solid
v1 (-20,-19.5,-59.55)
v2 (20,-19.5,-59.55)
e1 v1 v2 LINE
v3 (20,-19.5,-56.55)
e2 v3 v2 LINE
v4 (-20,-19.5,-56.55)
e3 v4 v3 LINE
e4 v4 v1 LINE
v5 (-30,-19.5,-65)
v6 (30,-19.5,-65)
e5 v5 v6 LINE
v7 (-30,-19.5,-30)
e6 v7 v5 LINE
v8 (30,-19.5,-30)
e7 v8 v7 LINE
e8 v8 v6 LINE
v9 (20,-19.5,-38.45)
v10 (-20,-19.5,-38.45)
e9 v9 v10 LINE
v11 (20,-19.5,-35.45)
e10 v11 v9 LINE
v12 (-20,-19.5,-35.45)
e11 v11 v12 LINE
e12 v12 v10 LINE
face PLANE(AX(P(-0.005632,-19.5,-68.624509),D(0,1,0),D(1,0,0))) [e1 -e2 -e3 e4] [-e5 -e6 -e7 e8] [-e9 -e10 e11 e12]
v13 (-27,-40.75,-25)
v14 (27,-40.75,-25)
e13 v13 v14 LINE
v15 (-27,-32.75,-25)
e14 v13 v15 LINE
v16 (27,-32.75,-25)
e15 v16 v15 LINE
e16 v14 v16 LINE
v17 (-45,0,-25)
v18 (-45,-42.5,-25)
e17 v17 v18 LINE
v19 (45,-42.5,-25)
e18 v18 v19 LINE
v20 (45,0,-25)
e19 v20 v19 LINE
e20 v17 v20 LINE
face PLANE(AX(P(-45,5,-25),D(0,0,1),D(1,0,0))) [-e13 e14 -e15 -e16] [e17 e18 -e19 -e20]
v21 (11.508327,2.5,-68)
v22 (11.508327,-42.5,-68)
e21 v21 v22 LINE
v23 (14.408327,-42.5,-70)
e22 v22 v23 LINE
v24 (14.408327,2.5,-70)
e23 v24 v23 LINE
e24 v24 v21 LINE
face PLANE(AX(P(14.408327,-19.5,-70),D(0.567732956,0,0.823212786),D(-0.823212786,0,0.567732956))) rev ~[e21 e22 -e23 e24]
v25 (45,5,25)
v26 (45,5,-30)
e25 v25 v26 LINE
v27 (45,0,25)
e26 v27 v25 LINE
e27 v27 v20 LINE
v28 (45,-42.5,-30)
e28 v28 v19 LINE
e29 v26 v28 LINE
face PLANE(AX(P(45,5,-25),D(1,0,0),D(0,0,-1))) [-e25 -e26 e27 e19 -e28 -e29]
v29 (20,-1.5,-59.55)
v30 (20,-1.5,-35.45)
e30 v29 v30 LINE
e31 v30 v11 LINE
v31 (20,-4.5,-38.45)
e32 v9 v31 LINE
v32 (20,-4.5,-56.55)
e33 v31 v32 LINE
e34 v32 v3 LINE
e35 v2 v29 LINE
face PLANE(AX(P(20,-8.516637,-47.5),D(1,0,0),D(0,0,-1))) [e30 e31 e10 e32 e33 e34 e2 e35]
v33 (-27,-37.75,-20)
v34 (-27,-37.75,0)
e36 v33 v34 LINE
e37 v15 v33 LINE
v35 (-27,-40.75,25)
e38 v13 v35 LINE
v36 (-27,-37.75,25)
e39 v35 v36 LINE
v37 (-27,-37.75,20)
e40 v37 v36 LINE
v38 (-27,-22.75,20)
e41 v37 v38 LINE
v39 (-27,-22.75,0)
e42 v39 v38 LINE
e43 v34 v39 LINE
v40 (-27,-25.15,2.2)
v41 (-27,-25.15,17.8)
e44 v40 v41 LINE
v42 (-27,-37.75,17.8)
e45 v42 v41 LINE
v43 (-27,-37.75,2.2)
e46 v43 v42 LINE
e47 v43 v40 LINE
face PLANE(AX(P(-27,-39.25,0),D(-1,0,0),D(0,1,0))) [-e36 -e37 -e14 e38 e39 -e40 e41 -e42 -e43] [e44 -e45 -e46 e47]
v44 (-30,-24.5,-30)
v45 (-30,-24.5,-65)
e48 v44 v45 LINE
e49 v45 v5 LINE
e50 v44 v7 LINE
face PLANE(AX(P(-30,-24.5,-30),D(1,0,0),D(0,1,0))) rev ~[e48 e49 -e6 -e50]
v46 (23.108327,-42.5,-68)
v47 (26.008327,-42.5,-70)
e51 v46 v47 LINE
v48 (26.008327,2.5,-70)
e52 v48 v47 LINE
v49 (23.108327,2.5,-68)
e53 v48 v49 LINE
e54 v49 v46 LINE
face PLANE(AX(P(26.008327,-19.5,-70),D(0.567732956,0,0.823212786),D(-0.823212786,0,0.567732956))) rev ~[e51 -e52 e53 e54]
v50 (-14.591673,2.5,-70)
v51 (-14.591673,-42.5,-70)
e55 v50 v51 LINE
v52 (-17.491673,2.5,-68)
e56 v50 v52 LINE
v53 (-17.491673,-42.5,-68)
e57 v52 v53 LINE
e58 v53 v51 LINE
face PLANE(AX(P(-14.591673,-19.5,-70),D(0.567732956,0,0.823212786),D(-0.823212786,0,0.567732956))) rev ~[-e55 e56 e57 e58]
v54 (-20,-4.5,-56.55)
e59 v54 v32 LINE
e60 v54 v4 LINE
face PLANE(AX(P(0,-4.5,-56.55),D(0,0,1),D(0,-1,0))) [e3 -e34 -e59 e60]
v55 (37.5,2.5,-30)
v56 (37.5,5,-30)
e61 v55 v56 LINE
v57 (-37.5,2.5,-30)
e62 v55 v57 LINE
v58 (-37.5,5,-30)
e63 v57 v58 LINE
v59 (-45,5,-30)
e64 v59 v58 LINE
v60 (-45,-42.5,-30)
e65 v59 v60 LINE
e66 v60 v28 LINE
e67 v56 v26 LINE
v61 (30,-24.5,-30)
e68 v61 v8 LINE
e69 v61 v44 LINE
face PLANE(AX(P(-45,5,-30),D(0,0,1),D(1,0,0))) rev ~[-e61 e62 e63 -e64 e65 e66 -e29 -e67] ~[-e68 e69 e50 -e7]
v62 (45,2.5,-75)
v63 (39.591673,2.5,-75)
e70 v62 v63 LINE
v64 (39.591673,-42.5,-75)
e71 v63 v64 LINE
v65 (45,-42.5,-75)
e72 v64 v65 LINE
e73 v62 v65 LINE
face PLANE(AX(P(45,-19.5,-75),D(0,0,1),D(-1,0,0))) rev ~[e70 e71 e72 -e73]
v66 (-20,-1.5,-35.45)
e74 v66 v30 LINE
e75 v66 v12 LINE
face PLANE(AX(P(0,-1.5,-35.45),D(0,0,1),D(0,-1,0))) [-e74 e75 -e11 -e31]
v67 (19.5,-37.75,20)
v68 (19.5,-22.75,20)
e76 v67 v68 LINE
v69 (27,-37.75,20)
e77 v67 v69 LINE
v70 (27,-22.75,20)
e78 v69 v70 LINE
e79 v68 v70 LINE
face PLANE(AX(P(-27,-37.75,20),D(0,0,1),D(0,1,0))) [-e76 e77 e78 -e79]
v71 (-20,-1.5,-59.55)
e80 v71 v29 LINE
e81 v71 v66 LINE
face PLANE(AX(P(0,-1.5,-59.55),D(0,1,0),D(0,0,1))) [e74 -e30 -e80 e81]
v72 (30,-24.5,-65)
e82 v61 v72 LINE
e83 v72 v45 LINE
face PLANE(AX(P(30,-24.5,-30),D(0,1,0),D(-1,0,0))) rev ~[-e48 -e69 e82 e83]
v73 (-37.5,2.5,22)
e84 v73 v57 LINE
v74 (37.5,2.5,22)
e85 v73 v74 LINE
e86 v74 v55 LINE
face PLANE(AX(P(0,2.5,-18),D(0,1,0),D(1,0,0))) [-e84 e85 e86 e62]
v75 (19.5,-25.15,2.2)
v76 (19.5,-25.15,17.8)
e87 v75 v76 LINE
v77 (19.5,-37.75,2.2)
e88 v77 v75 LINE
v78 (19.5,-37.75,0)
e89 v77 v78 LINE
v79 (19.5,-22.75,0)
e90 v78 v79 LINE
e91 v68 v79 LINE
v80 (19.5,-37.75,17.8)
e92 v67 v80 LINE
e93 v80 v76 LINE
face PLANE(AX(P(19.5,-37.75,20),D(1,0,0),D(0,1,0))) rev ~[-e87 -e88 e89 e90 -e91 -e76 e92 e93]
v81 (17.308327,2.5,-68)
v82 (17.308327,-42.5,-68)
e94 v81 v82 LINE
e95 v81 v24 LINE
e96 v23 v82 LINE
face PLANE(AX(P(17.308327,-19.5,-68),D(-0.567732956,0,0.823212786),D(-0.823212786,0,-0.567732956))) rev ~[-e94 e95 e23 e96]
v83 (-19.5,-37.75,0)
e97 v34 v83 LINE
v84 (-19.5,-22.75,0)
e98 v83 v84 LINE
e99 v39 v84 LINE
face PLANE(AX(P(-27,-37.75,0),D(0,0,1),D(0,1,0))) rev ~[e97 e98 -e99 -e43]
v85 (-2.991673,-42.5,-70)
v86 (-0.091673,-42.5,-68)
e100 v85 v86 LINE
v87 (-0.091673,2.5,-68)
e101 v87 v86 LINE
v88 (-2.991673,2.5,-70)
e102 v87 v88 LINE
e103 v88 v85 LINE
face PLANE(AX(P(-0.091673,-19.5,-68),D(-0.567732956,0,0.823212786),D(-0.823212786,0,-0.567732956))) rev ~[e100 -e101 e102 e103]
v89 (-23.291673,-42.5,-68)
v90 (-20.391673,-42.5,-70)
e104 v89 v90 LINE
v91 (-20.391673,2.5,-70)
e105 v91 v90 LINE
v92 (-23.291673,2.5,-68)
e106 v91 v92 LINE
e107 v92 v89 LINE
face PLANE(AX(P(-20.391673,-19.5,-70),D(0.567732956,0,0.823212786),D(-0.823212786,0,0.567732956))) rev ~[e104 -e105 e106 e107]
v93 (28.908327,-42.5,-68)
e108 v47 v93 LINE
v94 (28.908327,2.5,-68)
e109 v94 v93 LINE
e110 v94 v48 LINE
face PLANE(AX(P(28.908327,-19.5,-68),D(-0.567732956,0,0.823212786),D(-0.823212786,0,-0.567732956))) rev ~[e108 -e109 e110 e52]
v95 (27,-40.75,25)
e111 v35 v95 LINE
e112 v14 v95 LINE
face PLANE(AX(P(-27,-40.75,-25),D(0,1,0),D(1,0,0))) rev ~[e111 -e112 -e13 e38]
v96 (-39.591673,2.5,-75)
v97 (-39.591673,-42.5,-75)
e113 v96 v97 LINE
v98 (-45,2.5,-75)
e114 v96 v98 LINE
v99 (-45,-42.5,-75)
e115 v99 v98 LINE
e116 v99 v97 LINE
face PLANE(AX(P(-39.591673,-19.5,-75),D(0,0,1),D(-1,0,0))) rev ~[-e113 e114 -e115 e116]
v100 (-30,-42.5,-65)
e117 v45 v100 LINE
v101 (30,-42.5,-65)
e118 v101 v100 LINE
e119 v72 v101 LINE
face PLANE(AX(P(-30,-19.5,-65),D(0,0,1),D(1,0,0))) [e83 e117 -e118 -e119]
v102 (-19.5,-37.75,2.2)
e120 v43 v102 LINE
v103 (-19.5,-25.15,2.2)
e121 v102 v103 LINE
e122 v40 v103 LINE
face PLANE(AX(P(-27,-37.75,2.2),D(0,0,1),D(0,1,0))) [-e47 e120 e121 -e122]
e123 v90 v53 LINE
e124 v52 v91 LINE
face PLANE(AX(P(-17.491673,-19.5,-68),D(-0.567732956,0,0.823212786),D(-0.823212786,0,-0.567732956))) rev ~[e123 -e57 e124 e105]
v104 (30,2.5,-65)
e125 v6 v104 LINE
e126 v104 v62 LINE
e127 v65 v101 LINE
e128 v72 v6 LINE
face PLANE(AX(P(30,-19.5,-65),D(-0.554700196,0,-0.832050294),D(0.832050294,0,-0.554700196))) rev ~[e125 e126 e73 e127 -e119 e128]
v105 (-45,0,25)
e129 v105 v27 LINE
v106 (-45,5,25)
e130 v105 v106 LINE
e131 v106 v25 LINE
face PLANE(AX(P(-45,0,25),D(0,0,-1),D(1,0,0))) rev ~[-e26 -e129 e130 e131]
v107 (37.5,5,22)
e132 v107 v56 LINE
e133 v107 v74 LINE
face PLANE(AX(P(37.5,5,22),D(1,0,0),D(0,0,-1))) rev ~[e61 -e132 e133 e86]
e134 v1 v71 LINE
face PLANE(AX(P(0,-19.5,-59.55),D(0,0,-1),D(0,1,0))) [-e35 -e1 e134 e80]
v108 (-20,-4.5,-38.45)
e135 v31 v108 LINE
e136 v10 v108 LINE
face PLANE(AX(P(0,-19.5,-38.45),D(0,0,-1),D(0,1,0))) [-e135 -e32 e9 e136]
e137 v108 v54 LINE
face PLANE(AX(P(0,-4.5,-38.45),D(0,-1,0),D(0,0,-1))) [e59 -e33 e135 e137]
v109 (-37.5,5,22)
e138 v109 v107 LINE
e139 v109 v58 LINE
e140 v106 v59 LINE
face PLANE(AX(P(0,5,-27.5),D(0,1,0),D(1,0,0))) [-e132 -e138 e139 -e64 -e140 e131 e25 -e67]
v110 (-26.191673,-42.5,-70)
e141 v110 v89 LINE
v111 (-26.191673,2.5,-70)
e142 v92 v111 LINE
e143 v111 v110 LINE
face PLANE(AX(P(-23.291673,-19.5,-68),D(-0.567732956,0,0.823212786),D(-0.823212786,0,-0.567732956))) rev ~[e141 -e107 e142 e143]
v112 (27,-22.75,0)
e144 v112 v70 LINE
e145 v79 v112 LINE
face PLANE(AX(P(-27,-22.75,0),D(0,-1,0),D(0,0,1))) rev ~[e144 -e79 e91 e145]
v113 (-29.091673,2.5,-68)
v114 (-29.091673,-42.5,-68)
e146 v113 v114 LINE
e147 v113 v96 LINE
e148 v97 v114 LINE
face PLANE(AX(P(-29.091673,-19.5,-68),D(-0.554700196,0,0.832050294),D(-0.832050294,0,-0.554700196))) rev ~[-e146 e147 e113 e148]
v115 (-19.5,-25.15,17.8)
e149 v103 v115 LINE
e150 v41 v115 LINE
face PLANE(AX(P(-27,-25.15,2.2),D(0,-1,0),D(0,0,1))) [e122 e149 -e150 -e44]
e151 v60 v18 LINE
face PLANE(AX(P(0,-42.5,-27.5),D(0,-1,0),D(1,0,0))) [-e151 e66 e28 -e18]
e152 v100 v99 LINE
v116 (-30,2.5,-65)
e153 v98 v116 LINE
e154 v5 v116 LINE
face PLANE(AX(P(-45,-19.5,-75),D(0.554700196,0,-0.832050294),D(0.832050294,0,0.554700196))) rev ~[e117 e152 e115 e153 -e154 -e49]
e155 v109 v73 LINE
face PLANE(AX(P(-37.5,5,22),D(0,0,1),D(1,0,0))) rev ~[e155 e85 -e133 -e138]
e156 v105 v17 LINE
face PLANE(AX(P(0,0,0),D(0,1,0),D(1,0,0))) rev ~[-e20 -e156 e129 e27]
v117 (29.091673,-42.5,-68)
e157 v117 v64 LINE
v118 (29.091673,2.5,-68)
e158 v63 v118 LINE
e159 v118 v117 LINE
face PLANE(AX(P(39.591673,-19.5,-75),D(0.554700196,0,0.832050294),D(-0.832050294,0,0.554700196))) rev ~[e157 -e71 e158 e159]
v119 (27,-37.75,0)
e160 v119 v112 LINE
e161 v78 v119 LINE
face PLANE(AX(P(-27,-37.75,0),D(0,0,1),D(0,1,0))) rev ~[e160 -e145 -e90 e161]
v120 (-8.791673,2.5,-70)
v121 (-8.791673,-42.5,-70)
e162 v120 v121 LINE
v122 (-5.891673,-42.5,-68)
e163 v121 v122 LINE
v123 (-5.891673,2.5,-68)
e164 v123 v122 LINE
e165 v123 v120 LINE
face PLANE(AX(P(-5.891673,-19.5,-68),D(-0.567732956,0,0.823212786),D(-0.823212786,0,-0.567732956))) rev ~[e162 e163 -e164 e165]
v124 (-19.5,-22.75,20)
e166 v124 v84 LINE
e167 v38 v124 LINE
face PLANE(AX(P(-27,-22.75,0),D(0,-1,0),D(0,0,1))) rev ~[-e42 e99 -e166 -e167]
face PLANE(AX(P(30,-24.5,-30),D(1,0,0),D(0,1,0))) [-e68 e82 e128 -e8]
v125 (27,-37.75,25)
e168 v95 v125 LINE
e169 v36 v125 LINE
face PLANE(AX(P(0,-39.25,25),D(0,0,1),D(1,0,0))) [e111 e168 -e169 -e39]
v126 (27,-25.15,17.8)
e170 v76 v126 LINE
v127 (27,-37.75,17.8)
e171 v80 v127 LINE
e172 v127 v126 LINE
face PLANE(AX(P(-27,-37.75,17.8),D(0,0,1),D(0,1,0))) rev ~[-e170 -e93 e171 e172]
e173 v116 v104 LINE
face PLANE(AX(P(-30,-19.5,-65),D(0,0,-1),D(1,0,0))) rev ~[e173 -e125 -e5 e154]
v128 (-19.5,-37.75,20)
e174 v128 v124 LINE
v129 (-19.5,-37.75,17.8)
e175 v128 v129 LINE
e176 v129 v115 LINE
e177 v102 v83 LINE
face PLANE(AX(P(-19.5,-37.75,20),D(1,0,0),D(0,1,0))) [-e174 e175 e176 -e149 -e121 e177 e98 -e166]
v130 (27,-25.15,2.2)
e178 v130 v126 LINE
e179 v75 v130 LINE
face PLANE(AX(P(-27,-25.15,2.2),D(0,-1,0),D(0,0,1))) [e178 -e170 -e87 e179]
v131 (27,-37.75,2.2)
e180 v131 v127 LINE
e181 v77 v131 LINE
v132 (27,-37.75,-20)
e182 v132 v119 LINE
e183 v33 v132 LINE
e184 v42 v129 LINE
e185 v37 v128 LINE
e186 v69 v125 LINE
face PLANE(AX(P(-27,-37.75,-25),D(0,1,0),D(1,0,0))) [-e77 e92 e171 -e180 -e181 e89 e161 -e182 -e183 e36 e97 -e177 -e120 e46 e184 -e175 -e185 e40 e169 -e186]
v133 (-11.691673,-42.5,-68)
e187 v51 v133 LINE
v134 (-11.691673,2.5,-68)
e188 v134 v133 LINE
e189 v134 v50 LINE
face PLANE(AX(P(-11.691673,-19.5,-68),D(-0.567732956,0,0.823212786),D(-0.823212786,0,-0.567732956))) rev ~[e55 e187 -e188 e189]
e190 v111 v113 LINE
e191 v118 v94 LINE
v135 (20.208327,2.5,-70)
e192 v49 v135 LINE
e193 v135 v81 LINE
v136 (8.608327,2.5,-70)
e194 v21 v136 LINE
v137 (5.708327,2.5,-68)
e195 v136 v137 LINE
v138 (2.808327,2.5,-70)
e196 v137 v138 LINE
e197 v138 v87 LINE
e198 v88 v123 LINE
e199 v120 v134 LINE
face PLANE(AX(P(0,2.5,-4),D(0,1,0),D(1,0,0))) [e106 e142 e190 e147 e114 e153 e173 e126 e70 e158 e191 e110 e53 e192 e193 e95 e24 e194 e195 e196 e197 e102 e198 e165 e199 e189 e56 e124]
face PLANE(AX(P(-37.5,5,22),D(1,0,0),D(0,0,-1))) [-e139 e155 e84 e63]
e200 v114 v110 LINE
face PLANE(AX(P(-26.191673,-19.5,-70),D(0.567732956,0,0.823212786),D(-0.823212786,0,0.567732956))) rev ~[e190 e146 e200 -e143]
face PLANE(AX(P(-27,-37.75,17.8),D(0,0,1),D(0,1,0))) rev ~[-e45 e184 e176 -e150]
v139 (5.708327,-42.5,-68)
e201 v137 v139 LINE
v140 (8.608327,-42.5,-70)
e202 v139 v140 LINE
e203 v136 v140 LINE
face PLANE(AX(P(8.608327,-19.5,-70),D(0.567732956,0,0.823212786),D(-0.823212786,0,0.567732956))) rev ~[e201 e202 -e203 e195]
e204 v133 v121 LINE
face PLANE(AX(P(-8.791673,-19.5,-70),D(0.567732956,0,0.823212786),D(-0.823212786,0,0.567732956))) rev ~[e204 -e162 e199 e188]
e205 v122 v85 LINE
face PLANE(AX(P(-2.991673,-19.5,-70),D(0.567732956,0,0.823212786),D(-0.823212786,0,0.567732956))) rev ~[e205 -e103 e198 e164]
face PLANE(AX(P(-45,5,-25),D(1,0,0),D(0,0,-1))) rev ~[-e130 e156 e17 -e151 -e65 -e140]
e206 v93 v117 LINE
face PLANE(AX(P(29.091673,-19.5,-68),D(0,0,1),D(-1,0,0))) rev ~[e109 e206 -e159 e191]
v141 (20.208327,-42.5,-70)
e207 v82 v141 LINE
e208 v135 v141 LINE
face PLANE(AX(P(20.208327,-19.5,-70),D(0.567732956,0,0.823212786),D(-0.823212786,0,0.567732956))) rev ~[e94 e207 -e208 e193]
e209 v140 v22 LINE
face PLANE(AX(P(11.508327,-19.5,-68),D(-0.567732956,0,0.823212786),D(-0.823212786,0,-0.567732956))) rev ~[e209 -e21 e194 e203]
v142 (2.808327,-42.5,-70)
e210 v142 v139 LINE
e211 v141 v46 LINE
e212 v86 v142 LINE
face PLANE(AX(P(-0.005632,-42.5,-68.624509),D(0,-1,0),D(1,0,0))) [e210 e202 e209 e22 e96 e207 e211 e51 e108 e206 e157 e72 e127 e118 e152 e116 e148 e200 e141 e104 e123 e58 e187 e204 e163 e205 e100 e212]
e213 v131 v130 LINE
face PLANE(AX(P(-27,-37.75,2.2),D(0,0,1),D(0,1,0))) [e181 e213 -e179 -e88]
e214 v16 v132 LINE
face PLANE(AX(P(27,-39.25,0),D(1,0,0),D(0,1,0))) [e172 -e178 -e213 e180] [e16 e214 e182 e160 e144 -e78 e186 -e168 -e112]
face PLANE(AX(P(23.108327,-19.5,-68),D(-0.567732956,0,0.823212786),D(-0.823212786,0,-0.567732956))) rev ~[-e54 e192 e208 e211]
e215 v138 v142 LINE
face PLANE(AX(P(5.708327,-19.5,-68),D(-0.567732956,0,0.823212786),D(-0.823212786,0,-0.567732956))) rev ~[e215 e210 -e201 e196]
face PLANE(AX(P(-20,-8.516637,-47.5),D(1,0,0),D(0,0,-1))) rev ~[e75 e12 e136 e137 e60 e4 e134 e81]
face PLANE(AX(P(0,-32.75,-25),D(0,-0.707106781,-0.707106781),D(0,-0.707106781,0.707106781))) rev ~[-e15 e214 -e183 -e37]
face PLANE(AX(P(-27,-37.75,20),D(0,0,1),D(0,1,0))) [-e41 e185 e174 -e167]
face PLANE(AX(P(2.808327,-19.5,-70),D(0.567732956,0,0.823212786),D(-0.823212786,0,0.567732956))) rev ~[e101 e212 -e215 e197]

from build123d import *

# Parameters (mm, degrees)
CROQUIS1_W                          = 90
CROQUIS1_H                          = 50
SALIENTE_EXTRUIR1_DEPTH             = 5
CROQUIS4_W                          = 90
CROQUIS4_H                          = 5
SALIENTE_EXTRUIR2_DEPTH             = 49.5
CROQUIS5_W                          = 60
CROQUIS5_H                          = 5
SALIENTE_EXTRUIR3_DEPTH             = 35
CROQUIS11_W                         = 75
CROQUIS11_H                         = 80
CORTAR_EXTRUIR3_DEPTH               = 2.5
SALIENTE_EXTRUIR4_REACH             = 27
SALIENTE_EXTRUIR4_DIRECTION_2_REACH = 26.5
CROQUIS13_W                         = 90
CROQUIS13_H                         = 5
CORTAR_EXTRUIR4_DEPTH               = 1
CROQUIS15_W                         = 54
CROQUIS15_H                         = 3
SALIENTE_EXTRUIR5_DEPTH             = 50
CROQUIS18_W                         = 90
CROQUIS18_H                         = 5
CORTAR_EXTRUIR5_DEPTH               = 1
SALIENTE_EXTRUIR6_REACH             = 47
SALIENTE_EXTRUIR6_DIRECTION_2_REACH = 47
SALIENTE_EXTRUIR7_DEPTH             = 20
CROQUIS24_W                         = 20
CROQUIS24_H                         = 15
SALIENTE_EXTRUIR8_DEPTH             = 54
CROQUIS25_W                         = 15.6
CROQUIS25_H                         = 12.6
CORTAR_EXTRUIR6_DEPTH               = 54
CROQUIS26_W                         = 39
CROQUIS26_H                         = 15
CORTAR_EXTRUIR7_DEPTH               = 20


with BuildPart() as part:
    # Croquis1 → Saliente-Extruir1 (new body)
    with BuildSketch(Plane(origin=(0, 0, 0), x_dir=(1, 0, 0), z_dir=(0, 1, 0))):
        Rectangle(CROQUIS1_W, CROQUIS1_H)
    extrude(amount=SALIENTE_EXTRUIR1_DEPTH)

    # Croquis4 → Saliente-Extruir2 (add)
    with BuildSketch(Plane(origin=(0, 5, 0), x_dir=(1, 0, 0), z_dir=(0, 1, 0))):
        with Locations((0, 27.5)):
            Rectangle(CROQUIS4_W, CROQUIS4_H)
    extrude(amount=-SALIENTE_EXTRUIR2_DEPTH)

    # Croquis5 → Saliente-Extruir3 (add)
    with BuildSketch(Plane(origin=(0, 0, -30), x_dir=(-1, 0, 0), z_dir=(0, 0, -1))):
        with Locations((0, -22)):
            Rectangle(CROQUIS5_W, CROQUIS5_H)
    extrude(amount=SALIENTE_EXTRUIR3_DEPTH)

    # Croquis11 → Cortar-Extruir3 (cut)
    with BuildSketch(Plane(origin=(0, 5, 0), x_dir=(1, 0, 0), z_dir=(0, 1, 0))):
        with Locations((0, 18)):
            Rectangle(CROQUIS11_W, CROQUIS11_H)
    extrude(amount=-CORTAR_EXTRUIR3_DEPTH, mode=Mode.SUBTRACT)

    # Saliente-Extruir4: up to this face of the body (flat: up to its plane)
    saliente_extruir4_end = Plane(part.part.faces().sort_by_distance((0, -44.5, -27.5))[0])
    # Croquis12 → Saliente-Extruir4 (add, up to the picked face)
    with BuildSketch(Plane(origin=(0, -19.5, 0), x_dir=(1, 0, 0), z_dir=(0, 1, 0)), mode=Mode.PRIVATE) as saliente_extruir4_sk1:
        Polygon((-39.591673087, 75), (-45, 75), (-30, 65), (30, 65), (45, 75), (39.591673087, 75), (29.091673087, 68), (28.908326913, 68), (26.008326913, 70), (23.108326913, 68), (20.208326913, 70), (17.308326913, 68), (14.408326913, 70), (11.508326913, 68), (8.608326913, 70), (5.708326913, 68), (2.808326913, 70), (-0.091673087, 68), (-2.991673087, 70), (-5.891673087, 68), (-8.791673087, 70), (-11.691673087, 68), (-14.591673087, 70), (-17.491673087, 68), (-20.391673087, 70), (-23.291673087, 68), (-26.191673087, 70), (-29.091673087, 68), align=None)
    saliente_extruir4_tool1 = split(extrude(saliente_extruir4_sk1.sketch, amount=-SALIENTE_EXTRUIR4_REACH, mode=Mode.PRIVATE), bisect_by=saliente_extruir4_end, keep=Keep.BOTH, mode=Mode.PRIVATE)
    add(saliente_extruir4_tool1.solids().sort_by_distance((-27.127569, -19.5, -68.254549))[0])

    # Saliente-Extruir4 direction 2: up to this face of the body (flat: up to its plane)
    saliente_extruir4_direction_2_end = Plane(part.part.faces().sort_by_distance((0, 2.5, -4))[0])
    # Croquis12 → Saliente-Extruir4 direction 2 (add, up to the picked face)
    with BuildSketch(Plane(origin=(0, -19.5, 0), x_dir=(1, 0, 0), z_dir=(0, 1, 0)), mode=Mode.PRIVATE) as saliente_extruir4_direction_2_sk1:
        Polygon((-39.591673087, 75), (-45, 75), (-30, 65), (30, 65), (45, 75), (39.591673087, 75), (29.091673087, 68), (28.908326913, 68), (26.008326913, 70), (23.108326913, 68), (20.208326913, 70), (17.308326913, 68), (14.408326913, 70), (11.508326913, 68), (8.608326913, 70), (5.708326913, 68), (2.808326913, 70), (-0.091673087, 68), (-2.991673087, 70), (-5.891673087, 68), (-8.791673087, 70), (-11.691673087, 68), (-14.591673087, 70), (-17.491673087, 68), (-20.391673087, 70), (-23.291673087, 68), (-26.191673087, 70), (-29.091673087, 68), align=None)
    saliente_extruir4_direction_2_tool1 = split(extrude(saliente_extruir4_direction_2_sk1.sketch, amount=SALIENTE_EXTRUIR4_DIRECTION_2_REACH, mode=Mode.PRIVATE), bisect_by=saliente_extruir4_direction_2_end, keep=Keep.BOTH, mode=Mode.PRIVATE)
    add(saliente_extruir4_direction_2_tool1.solids().sort_by_distance((-27.127569, -19.5, -68.254549))[0])

    # Croquis13 → Cortar-Extruir4 (cut)
    with BuildSketch(Plane.XZ.offset(44.5)):
        with Locations((0, -27.5)):
            Rectangle(CROQUIS13_W, CROQUIS13_H)
        Polygon((-39.591673087, -75), (-29.091673087, -68), (-26.191673087, -70), (-23.291673087, -68), (-20.391673087, -70), (-17.491673087, -68), (-14.591673087, -70), (-11.691673087, -68), (-8.791673087, -70), (-5.891673087, -68), (-2.991673087, -70), (-0.091673087, -68), (2.808326913, -70), (5.708326913, -68), (8.608326913, -70), (11.508326913, -68), (14.408326913, -70), (17.308326913, -68), (20.208326913, -70), (23.108326913, -68), (26.008326913, -70), (28.908326913, -68), (29.091673087, -68), (39.591673087, -75), (45, -75), (30, -65), (-30, -65), (-45, -75), align=None)
    extrude(amount=-CORTAR_EXTRUIR4_DEPTH, mode=Mode.SUBTRACT)

    # Croquis15 → Saliente-Extruir5 (add)
    with BuildSketch(Plane.XY.offset(-25)):
        with Locations((0, -39.25)):
            Rectangle(CROQUIS15_W, CROQUIS15_H)
    extrude(amount=SALIENTE_EXTRUIR5_DEPTH)

    # Croquis18 → Cortar-Extruir5 (cut)
    with BuildSketch(Plane.XZ.offset(43.5)):
        with Locations((0, -27.5)):
            Rectangle(CROQUIS18_W, CROQUIS18_H)
        Polygon((-45, -75), (-39.591673087, -75), (-29.091673087, -68), (-26.191673087, -70), (-23.291673087, -68), (-20.391673087, -70), (-17.491673087, -68), (-14.591673087, -70), (-11.691673087, -68), (-8.791673087, -70), (-5.891673087, -68), (-2.991673087, -70), (-0.091673087, -68), (2.808326913, -70), (5.708326913, -68), (8.608326913, -70), (11.508326913, -68), (14.408326913, -70), (17.308326913, -68), (20.208326913, -70), (23.108326913, -68), (26.008326913, -70), (28.908326913, -68), (29.091673087, -68), (39.591673087, -75), (45, -75), (30, -65), (-30, -65), align=None)
    extrude(amount=-CORTAR_EXTRUIR5_DEPTH, mode=Mode.SUBTRACT)

    # Saliente-Extruir6: up to this face of the body (flat: up to its plane)
    saliente_extruir6_end = Plane(part.part.faces().sort_by_distance((-27, -39.25, 0))[0])
    # Croquis22 → Saliente-Extruir6 (add, up to the picked face)
    with BuildSketch(Plane(origin=(0, 0, 0), x_dir=(0, 0, -1), z_dir=(1, 0, 0)), mode=Mode.PRIVATE) as saliente_extruir6_sk1:
        Polygon((25, -37.75), (25, -32.75), (20, -37.75), align=None)
    saliente_extruir6_tool1 = split(extrude(saliente_extruir6_sk1.sketch, amount=-SALIENTE_EXTRUIR6_REACH, mode=Mode.PRIVATE), bisect_by=saliente_extruir6_end, keep=Keep.BOTH, mode=Mode.PRIVATE)
    add(saliente_extruir6_tool1.solids().sort_by_distance((0, -36.083333, -23.333333))[0])

    # Saliente-Extruir6 direction 2: up to this face of the body (flat: up to its plane)
    saliente_extruir6_direction_2_end = Plane(part.part.faces().sort_by_distance((27, -39.25, 0))[0])
    # Croquis22 → Saliente-Extruir6 direction 2 (add, up to the picked face)
    with BuildSketch(Plane(origin=(0, 0, 0), x_dir=(0, 0, -1), z_dir=(1, 0, 0)), mode=Mode.PRIVATE) as saliente_extruir6_direction_2_sk1:
        Polygon((25, -37.75), (25, -32.75), (20, -37.75), align=None)
    saliente_extruir6_direction_2_tool1 = split(extrude(saliente_extruir6_direction_2_sk1.sketch, amount=SALIENTE_EXTRUIR6_DIRECTION_2_REACH, mode=Mode.PRIVATE), bisect_by=saliente_extruir6_direction_2_end, keep=Keep.BOTH, mode=Mode.PRIVATE)
    add(saliente_extruir6_direction_2_tool1.solids().sort_by_distance((0, -36.083333, -23.333333))[0])

    # Croquis23 → Saliente-Extruir7 (add, symmetric)
    with BuildSketch(Plane(origin=(0, 0, 0), x_dir=(0, 0, -1), z_dir=(1, 0, 0))):
        Polygon((38.45, -4.5), (56.55, -4.5), (56.55, -19.5), (59.55, -19.5), (59.55, -1.5), (35.45, -1.5), (35.45, -19.5), (38.45, -19.5), align=None)
    extrude(amount=SALIENTE_EXTRUIR7_DEPTH, both=True)

    # Croquis24 → Saliente-Extruir8 (add)
    with BuildSketch(Plane.ZY.offset(27)):
        with Locations((10, -30.25)):
            Rectangle(CROQUIS24_W, CROQUIS24_H)
    extrude(amount=-SALIENTE_EXTRUIR8_DEPTH)

    # Croquis25 → Cortar-Extruir6 (cut)
    with BuildSketch(Plane.ZY.offset(27)):
        with Locations((10, -31.45)):
            Rectangle(CROQUIS25_W, CROQUIS25_H)
    extrude(amount=-CORTAR_EXTRUIR6_DEPTH, mode=Mode.SUBTRACT)

    # Croquis26 → Cortar-Extruir7 (cut)
    with BuildSketch(Plane.XY.offset(20)):
        with Locations((0, -30.25)):
            Rectangle(CROQUIS26_W, CROQUIS26_H)
    extrude(amount=-CORTAR_EXTRUIR7_DEPTH, mode=Mode.SUBTRACT)


solid = part.part
